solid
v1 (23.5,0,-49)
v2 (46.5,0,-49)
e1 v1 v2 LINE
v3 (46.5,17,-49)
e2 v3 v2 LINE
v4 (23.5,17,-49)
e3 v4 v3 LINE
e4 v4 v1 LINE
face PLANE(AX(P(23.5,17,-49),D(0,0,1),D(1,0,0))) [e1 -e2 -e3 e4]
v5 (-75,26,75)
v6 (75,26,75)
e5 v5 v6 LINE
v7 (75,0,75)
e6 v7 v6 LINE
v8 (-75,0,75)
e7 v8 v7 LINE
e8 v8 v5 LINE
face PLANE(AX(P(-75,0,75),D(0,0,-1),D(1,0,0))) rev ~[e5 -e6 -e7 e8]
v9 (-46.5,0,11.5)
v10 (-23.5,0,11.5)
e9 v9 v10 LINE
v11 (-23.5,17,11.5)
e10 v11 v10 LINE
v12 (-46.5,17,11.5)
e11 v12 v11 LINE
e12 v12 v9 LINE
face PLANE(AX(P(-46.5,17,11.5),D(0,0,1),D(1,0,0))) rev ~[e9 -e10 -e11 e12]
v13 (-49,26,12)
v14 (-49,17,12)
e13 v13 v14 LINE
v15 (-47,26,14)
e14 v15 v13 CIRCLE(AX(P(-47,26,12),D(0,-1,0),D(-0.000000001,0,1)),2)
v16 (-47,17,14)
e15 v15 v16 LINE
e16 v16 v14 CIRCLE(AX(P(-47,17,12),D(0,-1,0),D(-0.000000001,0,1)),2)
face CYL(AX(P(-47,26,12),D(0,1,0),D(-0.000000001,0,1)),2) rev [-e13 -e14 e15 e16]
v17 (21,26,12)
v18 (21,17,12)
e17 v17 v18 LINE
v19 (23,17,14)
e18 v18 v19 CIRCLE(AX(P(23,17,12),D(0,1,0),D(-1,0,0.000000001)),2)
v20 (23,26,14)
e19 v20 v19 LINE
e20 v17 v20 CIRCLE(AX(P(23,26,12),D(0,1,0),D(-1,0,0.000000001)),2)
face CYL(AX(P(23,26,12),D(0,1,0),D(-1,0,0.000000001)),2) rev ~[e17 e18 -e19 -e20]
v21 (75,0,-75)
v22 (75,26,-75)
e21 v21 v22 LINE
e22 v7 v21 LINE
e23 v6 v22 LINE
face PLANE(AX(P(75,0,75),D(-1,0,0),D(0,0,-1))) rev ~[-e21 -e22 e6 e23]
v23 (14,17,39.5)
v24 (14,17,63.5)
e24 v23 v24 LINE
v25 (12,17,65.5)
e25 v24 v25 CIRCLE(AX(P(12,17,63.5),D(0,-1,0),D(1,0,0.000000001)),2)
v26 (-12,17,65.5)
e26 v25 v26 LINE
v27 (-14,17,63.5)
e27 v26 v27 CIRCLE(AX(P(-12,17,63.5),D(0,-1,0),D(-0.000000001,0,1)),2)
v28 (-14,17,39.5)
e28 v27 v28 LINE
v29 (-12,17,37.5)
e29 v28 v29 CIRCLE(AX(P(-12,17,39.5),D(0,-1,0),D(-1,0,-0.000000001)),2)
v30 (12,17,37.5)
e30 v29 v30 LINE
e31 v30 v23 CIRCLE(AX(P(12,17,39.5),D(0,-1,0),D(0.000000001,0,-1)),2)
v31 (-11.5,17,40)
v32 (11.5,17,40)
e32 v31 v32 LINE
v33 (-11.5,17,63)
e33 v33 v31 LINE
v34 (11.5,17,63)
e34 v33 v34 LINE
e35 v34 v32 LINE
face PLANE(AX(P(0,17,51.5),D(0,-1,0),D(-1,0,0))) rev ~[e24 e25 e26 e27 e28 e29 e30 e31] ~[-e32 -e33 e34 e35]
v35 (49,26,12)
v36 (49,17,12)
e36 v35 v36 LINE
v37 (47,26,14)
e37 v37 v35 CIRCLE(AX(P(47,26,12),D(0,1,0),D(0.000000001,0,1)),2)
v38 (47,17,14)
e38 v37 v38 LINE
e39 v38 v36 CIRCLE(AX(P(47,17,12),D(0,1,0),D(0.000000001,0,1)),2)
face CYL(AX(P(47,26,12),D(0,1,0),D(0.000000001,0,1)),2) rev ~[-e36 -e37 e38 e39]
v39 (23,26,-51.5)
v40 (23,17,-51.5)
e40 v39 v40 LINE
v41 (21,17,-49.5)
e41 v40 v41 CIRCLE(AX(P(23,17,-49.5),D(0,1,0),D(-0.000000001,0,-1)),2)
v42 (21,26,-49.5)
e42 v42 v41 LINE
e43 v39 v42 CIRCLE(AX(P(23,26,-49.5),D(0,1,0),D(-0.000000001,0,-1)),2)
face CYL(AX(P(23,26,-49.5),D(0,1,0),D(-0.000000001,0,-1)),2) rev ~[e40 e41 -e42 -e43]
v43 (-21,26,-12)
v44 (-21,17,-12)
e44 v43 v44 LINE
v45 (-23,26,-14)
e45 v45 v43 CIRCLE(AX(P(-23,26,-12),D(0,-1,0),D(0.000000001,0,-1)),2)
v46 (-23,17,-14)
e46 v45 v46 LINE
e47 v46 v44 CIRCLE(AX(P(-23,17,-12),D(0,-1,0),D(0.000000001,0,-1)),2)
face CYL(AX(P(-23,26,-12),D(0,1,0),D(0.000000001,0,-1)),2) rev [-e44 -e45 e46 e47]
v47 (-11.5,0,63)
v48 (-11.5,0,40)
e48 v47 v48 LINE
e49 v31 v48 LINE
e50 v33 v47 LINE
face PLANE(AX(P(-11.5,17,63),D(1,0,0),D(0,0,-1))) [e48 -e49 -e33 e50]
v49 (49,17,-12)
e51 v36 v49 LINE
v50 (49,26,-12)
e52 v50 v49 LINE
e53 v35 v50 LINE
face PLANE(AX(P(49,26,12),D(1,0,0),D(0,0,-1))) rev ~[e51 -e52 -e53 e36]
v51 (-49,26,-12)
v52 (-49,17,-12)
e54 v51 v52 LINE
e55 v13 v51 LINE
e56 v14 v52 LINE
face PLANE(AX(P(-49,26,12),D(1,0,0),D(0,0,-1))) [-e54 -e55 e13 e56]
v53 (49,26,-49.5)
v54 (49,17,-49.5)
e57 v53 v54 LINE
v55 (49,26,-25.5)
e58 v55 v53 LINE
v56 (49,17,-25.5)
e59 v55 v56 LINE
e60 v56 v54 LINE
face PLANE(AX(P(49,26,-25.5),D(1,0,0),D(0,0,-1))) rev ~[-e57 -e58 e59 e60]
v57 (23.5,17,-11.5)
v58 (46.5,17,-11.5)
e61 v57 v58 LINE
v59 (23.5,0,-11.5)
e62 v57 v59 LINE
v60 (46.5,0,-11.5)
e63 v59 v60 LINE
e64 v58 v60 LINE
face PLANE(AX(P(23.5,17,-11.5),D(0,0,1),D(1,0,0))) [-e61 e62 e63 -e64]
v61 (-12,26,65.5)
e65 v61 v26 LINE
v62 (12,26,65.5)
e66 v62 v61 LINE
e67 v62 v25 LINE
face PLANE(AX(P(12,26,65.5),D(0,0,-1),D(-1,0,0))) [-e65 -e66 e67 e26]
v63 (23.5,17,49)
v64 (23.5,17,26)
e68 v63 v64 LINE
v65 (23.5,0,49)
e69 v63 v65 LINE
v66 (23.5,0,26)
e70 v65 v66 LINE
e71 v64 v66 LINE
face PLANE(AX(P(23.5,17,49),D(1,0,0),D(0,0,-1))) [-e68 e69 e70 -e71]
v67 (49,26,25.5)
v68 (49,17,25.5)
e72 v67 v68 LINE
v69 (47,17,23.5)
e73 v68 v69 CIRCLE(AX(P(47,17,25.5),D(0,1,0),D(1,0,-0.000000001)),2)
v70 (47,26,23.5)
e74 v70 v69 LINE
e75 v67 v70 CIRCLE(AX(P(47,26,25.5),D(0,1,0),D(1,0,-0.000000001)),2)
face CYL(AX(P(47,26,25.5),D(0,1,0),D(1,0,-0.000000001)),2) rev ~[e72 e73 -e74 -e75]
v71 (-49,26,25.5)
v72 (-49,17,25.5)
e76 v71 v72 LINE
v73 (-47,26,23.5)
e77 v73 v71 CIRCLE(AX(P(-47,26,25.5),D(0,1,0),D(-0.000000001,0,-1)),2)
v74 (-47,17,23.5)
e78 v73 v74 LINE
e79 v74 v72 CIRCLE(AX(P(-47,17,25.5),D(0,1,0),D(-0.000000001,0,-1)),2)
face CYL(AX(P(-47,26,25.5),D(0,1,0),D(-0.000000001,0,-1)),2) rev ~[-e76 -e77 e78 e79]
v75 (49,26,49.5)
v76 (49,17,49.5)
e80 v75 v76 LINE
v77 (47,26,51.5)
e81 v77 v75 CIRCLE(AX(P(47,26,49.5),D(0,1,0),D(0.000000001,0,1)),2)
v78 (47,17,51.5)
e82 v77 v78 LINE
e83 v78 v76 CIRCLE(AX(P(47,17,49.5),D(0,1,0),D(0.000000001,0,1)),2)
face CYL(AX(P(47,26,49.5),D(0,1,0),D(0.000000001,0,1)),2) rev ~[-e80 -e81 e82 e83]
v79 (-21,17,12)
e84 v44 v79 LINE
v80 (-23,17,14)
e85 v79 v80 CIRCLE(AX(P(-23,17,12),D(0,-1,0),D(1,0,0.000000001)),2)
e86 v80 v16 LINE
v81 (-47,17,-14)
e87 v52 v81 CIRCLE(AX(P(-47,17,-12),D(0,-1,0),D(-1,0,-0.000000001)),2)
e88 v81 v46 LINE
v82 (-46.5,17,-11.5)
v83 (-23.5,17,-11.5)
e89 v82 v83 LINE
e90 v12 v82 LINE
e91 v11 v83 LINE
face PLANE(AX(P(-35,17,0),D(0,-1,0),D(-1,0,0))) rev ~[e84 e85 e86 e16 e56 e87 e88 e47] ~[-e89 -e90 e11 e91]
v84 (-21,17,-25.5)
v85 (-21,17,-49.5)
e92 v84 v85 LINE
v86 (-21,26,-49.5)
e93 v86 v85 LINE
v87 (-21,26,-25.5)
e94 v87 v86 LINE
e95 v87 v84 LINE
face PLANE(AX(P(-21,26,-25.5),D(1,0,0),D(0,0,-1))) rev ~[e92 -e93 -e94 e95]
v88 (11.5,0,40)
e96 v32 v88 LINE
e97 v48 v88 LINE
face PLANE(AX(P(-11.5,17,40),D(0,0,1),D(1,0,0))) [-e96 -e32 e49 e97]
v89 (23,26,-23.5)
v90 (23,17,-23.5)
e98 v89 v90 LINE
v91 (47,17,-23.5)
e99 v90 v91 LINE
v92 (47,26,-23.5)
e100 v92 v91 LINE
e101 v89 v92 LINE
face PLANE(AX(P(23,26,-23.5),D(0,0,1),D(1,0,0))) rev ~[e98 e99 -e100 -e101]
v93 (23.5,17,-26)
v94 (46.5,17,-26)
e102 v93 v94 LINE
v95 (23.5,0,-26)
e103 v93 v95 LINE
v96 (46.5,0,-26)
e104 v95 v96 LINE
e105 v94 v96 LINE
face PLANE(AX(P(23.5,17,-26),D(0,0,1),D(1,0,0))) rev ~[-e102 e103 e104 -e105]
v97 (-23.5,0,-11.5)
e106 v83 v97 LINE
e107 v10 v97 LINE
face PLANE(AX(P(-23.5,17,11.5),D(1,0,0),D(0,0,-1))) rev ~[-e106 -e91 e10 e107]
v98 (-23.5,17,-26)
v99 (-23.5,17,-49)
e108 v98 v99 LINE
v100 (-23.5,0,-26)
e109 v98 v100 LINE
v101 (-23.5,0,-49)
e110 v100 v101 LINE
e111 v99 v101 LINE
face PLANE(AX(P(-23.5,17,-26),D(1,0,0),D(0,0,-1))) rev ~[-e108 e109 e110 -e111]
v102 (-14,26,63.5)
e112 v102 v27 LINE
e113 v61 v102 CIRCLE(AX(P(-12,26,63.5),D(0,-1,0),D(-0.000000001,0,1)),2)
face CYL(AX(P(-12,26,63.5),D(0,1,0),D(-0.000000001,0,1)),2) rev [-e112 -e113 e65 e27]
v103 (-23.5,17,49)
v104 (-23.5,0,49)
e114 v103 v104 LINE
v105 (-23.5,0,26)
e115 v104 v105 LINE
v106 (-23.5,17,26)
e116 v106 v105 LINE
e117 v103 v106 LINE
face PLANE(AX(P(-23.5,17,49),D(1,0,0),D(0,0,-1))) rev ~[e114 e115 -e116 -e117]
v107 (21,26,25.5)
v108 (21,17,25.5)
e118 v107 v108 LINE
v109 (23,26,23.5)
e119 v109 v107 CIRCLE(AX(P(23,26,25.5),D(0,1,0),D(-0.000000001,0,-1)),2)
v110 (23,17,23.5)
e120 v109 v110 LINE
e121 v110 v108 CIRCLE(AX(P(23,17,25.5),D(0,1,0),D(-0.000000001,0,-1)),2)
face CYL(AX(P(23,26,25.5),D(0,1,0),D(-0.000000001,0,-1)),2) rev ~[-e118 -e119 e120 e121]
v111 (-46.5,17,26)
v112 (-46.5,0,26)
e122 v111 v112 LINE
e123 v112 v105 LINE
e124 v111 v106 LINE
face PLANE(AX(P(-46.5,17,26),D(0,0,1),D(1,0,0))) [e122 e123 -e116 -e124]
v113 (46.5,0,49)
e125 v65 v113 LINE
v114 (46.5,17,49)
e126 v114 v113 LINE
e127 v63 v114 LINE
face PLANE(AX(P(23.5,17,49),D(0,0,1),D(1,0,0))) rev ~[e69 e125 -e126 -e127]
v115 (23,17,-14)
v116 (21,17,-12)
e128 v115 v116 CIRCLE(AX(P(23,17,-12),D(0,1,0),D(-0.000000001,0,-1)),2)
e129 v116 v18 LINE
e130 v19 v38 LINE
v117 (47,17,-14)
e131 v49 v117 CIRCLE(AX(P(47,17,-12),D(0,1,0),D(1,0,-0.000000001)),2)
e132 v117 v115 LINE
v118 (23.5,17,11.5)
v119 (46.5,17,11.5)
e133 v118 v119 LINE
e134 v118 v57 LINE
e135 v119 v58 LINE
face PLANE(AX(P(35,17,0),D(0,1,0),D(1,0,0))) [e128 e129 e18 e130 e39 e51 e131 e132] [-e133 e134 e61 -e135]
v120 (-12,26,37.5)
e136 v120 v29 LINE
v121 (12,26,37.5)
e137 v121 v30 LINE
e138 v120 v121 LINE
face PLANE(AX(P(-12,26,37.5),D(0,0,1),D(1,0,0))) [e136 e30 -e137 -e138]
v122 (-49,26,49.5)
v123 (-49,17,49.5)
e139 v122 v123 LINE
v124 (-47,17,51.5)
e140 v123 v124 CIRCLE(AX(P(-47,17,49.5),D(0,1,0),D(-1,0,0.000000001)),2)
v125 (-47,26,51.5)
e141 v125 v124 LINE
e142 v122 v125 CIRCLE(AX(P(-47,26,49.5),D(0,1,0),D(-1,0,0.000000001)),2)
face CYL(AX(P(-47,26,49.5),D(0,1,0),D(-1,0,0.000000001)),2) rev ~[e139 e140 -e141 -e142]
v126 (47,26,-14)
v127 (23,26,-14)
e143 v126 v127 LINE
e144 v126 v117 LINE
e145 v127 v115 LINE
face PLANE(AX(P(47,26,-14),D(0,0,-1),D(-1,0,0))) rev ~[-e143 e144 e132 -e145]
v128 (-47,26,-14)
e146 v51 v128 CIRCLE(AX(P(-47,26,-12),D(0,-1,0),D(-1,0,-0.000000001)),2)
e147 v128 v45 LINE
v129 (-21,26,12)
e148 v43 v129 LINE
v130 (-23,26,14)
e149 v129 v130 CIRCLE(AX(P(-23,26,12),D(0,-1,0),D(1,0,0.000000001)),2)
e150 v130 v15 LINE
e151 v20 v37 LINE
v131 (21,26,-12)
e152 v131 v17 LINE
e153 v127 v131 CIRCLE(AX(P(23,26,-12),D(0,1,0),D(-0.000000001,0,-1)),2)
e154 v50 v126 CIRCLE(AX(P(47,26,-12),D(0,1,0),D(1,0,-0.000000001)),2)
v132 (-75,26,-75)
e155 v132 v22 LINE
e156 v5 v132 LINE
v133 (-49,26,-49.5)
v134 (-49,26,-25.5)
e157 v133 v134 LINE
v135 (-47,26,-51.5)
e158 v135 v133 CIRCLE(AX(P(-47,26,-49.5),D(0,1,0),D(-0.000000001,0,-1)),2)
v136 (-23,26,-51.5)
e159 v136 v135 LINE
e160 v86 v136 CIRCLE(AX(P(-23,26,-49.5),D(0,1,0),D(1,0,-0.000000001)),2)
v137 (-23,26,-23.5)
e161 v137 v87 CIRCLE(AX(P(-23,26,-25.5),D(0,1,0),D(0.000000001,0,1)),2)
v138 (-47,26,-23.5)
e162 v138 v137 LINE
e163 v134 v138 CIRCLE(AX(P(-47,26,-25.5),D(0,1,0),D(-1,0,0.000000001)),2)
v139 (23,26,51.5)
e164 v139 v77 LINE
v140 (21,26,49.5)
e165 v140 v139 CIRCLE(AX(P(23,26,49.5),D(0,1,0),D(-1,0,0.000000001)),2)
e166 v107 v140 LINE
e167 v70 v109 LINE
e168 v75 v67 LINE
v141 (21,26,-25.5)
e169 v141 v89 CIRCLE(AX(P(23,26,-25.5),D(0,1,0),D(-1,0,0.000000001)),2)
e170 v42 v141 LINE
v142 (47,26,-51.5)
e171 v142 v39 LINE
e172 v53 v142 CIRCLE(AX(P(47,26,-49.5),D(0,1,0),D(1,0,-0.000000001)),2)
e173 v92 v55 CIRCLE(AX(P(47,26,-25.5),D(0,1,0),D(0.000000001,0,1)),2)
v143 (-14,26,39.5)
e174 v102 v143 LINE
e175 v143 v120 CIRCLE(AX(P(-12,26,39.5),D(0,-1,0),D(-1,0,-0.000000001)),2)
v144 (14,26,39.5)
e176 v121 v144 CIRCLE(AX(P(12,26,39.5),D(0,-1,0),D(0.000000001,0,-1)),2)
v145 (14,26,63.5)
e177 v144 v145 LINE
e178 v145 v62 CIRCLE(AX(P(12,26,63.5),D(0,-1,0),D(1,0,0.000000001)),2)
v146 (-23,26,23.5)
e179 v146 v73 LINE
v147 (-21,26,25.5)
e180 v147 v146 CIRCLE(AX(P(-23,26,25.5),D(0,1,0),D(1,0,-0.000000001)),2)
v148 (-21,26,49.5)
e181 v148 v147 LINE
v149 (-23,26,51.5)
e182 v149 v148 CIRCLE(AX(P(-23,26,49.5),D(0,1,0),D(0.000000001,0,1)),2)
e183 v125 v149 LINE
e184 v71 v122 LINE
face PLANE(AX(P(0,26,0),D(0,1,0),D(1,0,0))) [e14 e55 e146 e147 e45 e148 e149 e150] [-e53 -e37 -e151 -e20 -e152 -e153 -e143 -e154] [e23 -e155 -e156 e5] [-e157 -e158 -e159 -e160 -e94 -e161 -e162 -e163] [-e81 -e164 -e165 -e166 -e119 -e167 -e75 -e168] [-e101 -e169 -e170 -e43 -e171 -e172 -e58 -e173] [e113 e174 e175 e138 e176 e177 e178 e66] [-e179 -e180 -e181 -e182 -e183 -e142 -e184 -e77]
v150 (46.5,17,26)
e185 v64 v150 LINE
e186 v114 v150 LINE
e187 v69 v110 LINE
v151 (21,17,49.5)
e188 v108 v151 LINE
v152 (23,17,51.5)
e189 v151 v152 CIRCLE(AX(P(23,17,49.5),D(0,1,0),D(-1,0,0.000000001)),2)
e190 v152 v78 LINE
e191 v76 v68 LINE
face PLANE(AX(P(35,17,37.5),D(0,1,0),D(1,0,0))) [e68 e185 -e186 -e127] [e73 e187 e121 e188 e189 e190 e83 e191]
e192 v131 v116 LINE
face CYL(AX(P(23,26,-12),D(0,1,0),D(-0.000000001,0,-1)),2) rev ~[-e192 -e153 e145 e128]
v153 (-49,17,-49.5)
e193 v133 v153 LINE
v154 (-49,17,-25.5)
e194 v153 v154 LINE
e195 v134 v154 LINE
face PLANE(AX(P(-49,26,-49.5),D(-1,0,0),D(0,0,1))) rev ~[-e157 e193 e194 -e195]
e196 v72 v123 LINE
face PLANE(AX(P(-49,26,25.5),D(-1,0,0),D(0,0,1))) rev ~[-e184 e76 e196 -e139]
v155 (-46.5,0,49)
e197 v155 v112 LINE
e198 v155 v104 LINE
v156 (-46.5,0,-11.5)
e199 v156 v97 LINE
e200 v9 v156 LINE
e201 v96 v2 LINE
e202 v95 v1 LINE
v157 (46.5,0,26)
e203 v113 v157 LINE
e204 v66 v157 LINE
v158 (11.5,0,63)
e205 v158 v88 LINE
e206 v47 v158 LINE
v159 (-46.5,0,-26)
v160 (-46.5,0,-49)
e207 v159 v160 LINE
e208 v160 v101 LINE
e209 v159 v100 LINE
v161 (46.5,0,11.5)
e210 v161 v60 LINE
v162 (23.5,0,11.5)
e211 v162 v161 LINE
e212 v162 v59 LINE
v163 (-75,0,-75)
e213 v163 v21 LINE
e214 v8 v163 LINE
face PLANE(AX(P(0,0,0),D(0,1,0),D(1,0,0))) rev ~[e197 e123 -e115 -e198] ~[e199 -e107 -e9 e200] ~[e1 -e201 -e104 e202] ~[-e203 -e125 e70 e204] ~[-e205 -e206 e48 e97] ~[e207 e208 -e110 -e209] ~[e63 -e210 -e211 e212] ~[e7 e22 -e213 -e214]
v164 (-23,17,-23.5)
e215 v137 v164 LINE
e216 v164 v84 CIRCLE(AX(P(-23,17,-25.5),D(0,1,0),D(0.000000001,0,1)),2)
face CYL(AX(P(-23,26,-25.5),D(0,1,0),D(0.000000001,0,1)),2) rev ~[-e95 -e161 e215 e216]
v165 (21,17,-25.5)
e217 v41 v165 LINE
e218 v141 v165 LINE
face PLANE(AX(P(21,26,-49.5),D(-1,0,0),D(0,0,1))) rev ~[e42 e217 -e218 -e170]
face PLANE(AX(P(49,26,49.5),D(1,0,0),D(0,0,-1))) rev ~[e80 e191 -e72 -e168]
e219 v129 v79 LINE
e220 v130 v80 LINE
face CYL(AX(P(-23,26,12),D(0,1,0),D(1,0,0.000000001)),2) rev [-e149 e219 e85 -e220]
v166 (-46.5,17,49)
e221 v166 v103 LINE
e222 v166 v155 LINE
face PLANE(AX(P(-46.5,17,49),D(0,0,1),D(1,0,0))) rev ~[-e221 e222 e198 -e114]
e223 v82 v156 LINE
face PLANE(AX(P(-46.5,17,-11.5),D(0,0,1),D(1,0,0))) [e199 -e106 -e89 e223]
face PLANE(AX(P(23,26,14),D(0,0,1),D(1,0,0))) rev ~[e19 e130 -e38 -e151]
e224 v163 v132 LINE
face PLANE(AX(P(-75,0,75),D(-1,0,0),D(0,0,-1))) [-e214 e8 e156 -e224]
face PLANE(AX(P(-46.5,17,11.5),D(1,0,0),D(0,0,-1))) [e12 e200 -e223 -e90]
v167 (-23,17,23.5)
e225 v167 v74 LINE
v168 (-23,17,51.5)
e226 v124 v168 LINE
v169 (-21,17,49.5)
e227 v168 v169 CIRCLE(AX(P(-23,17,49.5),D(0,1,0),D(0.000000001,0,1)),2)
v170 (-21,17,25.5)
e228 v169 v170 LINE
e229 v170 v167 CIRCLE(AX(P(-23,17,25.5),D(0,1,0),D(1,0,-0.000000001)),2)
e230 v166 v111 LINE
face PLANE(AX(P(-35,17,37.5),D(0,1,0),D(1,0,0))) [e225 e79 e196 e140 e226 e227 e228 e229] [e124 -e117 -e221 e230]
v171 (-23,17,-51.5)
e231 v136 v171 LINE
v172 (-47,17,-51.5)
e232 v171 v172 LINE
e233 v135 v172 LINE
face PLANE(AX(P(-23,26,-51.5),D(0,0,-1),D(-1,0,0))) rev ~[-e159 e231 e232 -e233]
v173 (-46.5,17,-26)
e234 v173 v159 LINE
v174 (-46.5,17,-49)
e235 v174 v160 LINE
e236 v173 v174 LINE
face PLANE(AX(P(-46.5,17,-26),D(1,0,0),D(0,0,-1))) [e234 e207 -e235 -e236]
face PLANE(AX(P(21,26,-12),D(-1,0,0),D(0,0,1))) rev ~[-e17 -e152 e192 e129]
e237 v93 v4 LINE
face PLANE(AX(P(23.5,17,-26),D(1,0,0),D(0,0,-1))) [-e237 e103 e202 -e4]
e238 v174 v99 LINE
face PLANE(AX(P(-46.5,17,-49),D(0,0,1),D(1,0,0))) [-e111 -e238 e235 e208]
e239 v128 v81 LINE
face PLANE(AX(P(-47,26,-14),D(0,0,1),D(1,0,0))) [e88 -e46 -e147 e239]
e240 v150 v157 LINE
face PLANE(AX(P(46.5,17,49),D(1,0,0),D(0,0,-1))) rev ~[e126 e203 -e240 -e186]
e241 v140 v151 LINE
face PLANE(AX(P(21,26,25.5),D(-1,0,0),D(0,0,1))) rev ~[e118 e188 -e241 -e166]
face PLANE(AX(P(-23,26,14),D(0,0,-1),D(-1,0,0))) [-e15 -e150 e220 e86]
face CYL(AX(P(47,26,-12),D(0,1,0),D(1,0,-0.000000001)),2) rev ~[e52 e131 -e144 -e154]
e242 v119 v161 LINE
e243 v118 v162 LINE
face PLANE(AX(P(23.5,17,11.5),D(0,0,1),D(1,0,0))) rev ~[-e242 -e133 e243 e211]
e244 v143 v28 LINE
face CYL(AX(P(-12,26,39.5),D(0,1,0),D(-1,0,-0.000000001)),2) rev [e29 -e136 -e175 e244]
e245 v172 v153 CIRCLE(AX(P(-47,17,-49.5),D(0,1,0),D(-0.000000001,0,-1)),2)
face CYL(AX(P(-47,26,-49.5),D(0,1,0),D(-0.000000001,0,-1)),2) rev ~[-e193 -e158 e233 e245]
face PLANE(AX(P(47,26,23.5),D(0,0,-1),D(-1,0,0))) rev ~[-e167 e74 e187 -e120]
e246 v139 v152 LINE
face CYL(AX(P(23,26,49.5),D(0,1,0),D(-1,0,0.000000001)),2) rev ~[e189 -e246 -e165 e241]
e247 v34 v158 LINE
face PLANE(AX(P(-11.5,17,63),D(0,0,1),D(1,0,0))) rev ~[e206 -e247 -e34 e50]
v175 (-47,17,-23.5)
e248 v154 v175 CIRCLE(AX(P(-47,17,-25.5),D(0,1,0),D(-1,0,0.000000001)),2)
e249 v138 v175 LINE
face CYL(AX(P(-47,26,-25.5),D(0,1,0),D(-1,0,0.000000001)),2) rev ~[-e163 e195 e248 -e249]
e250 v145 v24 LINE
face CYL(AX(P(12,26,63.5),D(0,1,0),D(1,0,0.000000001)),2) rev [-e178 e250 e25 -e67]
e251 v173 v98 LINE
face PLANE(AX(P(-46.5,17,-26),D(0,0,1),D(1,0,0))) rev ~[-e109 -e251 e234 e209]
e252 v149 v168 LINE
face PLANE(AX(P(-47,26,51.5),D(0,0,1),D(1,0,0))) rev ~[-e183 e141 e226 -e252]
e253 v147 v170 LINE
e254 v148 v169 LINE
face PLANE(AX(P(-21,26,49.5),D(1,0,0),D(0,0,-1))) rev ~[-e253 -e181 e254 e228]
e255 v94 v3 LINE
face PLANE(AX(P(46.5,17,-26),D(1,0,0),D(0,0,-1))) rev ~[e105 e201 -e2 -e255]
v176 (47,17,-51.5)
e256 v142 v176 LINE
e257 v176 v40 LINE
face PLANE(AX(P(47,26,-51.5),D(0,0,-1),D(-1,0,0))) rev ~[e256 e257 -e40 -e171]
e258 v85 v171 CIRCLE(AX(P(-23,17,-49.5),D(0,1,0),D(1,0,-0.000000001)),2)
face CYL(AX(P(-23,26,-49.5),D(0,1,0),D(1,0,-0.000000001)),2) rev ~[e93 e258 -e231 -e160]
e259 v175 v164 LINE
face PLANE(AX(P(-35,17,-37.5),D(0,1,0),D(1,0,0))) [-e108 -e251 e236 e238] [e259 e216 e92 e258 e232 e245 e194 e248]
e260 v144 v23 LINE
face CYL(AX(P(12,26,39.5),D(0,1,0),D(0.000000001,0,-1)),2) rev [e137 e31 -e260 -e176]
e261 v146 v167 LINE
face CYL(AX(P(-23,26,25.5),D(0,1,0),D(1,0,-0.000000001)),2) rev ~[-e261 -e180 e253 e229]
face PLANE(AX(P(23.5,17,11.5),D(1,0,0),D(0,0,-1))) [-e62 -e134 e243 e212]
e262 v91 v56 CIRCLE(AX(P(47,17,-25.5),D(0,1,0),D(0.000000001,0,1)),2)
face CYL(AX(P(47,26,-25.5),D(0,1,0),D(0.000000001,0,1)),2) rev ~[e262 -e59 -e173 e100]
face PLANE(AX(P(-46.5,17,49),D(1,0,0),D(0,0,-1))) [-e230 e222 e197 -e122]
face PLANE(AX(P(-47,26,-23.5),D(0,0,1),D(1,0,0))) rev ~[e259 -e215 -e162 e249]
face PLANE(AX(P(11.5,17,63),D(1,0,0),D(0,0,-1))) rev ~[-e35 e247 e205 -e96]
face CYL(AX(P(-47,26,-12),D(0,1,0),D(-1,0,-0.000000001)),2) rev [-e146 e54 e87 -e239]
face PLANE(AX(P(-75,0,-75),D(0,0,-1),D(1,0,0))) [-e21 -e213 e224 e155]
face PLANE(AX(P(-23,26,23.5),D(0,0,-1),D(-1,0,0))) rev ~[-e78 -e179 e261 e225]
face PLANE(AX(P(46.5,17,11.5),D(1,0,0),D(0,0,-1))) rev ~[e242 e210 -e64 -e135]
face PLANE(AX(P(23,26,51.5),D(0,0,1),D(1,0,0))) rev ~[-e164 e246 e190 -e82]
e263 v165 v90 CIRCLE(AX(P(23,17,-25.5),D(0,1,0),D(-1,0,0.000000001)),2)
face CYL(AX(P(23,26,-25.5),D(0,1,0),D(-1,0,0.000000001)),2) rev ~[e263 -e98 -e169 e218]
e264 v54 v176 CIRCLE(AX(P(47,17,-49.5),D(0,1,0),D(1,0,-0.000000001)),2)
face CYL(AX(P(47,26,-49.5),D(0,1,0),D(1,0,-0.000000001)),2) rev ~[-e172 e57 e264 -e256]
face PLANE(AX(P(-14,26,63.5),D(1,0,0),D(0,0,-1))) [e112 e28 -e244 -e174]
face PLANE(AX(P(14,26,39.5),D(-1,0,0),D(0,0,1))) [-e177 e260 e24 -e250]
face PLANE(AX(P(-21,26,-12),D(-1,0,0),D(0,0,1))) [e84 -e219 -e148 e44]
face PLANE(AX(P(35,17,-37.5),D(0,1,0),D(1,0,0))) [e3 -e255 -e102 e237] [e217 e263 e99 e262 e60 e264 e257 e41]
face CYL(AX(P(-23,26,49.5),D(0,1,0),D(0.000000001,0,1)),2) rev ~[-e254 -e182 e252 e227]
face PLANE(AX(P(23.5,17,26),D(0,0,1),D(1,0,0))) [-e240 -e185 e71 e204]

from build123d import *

# Parameters (mm, degrees)
SKETCH1_W           = 150
SKETCH1_H           = 150
BOSS_EXTRUDE1_DEPTH = 26
CUT_EXTRUDE1_DEPTH  = 9
SKETCH3_W           = 23
SKETCH3_H           = 23
CUT_EXTRUDE2_DEPTH  = 18


with BuildPart() as part:
    # Sketch1 → Boss-Extrude1 (new body)
    with BuildSketch(Plane(origin=(0, 0, 0), x_dir=(1, 0, 0), z_dir=(0, 1, 0))):
        Rectangle(SKETCH1_W, SKETCH1_H)
    extrude(amount=BOSS_EXTRUDE1_DEPTH)

    # Sketch2 → Cut-Extrude1 (cut)
    with BuildSketch(Plane(origin=(0, 26, 0), x_dir=(1, 0, 0), z_dir=(0, 1, 0))):
        with BuildLine():
            Line((-47, 23.5), (-23, 23.5))
            ThreePointArc((-23, 23.5), (-21.585786438, 24.085786438), (-21, 25.5))
            Line((-21, 25.5), (-21, 49.5))
            ThreePointArc((-21, 49.5), (-21.585786438, 50.914213562), (-23, 51.5))
            Line((-23, 51.5), (-47, 51.5))
            ThreePointArc((-47, 51.5), (-48.414213562, 50.914213562), (-49, 49.5))
            Line((-49, 49.5), (-49, 25.5))
            ThreePointArc((-49, 25.5), (-48.414213562, 24.085786438), (-47, 23.5))
        make_face()
        with BuildLine():
            Line((-47, 14), (-23, 14))
            ThreePointArc((-23, 14), (-21.585786438, 13.414213562), (-21, 12))
            Line((-21, 12), (-21, -12))
            ThreePointArc((-21, -12), (-21.585786438, -13.414213562), (-23, -14))
            Line((-23, -14), (-47, -14))
            ThreePointArc((-47, -14), (-48.414213562, -13.414213562), (-49, -12))
            Line((-49, -12), (-49, 12))
            ThreePointArc((-49, 12), (-48.414213562, 13.414213562), (-47, 14))
        make_face()
        with BuildLine():
            Line((-21, -49.5), (-21, -25.5))
            ThreePointArc((-21, -25.5), (-21.585786438, -24.085786438), (-23, -23.5))
            Line((-23, -23.5), (-47, -23.5))
            ThreePointArc((-47, -23.5), (-48.414213562, -24.085786438), (-49, -25.5))
            Line((-49, -25.5), (-49, -49.5))
            ThreePointArc((-49, -49.5), (-48.414213562, -50.914213562), (-47, -51.5))
            Line((-47, -51.5), (-23, -51.5))
            ThreePointArc((-23, -51.5), (-21.585786438, -50.914213562), (-21, -49.5))
        make_face()
        with BuildLine():
            Line((47, -23.5), (23, -23.5))
            ThreePointArc((23, -23.5), (21.585786438, -24.085786438), (21, -25.5))
            Line((21, -25.5), (21, -49.5))
            ThreePointArc((21, -49.5), (21.585786438, -50.914213562), (23, -51.5))
            Line((23, -51.5), (47, -51.5))
            ThreePointArc((47, -51.5), (48.414213562, -50.914213562), (49, -49.5))
            Line((49, -49.5), (49, -25.5))
            ThreePointArc((49, -25.5), (48.414213562, -24.085786438), (47, -23.5))
        make_face()
        with BuildLine():
            Line((21, 49.5), (21, 25.5))
            ThreePointArc((21, 25.5), (21.585786438, 24.085786438), (23, 23.5))
            Line((23, 23.5), (47, 23.5))
            ThreePointArc((47, 23.5), (48.414213562, 24.085786438), (49, 25.5))
            Line((49, 25.5), (49, 49.5))
            ThreePointArc((49, 49.5), (48.414213562, 50.914213562), (47, 51.5))
            Line((47, 51.5), (23, 51.5))
            ThreePointArc((23, 51.5), (21.585786438, 50.914213562), (21, 49.5))
        make_face()
        with BuildLine():
            Line((21, 12), (21, -12))
            ThreePointArc((21, -12), (21.585786438, -13.414213562), (23, -14))
            Line((23, -14), (47, -14))
            ThreePointArc((47, -14), (48.414213562, -13.414213562), (49, -12))
            Line((49, -12), (49, 12))
            ThreePointArc((49, 12), (48.414213562, 13.414213562), (47, 14))
            Line((47, 14), (23, 14))
            ThreePointArc((23, 14), (21.585786438, 13.414213562), (21, 12))
        make_face()
        with BuildLine():
            Line((-12, -37.5), (12, -37.5))
            ThreePointArc((12, -37.5), (13.414213562, -38.085786438), (14, -39.5))
            Line((14, -39.5), (14, -63.5))
            ThreePointArc((14, -63.5), (13.414213562, -64.914213562), (12, -65.5))
            Line((12, -65.5), (-12, -65.5))
            ThreePointArc((-12, -65.5), (-13.414213562, -64.914213562), (-14, -63.5))
            Line((-14, -63.5), (-14, -39.5))
            ThreePointArc((-14, -39.5), (-13.414213562, -38.085786438), (-12, -37.5))
        make_face()
    extrude(amount=-CUT_EXTRUDE1_DEPTH, mode=Mode.SUBTRACT)

    # Sketch3 → Cut-Extrude2 (cut, through all)
    with BuildSketch(Plane(origin=(0, 17, 0), x_dir=(1, 0, 0), z_dir=(0, 1, 0))):
        with Locations((-35, -37.5)):
            Rectangle(SKETCH3_W, SKETCH3_H)
        with Locations((-35, 37.5)):
            Rectangle(SKETCH3_W, SKETCH3_H)
        with Locations((35, -37.5)):
            Rectangle(SKETCH3_W, SKETCH3_H)
        with Locations((35, 37.5)):
            Rectangle(SKETCH3_W, SKETCH3_H)
        with Locations((-35, 0)):
            Rectangle(SKETCH3_W, SKETCH3_H)
        with Locations((35, 0)):
            Rectangle(SKETCH3_W, SKETCH3_H)
        with Locations((0, -51.5)):
            Rectangle(SKETCH3_W, SKETCH3_H)
    extrude(amount=-CUT_EXTRUDE2_DEPTH, mode=Mode.SUBTRACT)


solid = part.part
